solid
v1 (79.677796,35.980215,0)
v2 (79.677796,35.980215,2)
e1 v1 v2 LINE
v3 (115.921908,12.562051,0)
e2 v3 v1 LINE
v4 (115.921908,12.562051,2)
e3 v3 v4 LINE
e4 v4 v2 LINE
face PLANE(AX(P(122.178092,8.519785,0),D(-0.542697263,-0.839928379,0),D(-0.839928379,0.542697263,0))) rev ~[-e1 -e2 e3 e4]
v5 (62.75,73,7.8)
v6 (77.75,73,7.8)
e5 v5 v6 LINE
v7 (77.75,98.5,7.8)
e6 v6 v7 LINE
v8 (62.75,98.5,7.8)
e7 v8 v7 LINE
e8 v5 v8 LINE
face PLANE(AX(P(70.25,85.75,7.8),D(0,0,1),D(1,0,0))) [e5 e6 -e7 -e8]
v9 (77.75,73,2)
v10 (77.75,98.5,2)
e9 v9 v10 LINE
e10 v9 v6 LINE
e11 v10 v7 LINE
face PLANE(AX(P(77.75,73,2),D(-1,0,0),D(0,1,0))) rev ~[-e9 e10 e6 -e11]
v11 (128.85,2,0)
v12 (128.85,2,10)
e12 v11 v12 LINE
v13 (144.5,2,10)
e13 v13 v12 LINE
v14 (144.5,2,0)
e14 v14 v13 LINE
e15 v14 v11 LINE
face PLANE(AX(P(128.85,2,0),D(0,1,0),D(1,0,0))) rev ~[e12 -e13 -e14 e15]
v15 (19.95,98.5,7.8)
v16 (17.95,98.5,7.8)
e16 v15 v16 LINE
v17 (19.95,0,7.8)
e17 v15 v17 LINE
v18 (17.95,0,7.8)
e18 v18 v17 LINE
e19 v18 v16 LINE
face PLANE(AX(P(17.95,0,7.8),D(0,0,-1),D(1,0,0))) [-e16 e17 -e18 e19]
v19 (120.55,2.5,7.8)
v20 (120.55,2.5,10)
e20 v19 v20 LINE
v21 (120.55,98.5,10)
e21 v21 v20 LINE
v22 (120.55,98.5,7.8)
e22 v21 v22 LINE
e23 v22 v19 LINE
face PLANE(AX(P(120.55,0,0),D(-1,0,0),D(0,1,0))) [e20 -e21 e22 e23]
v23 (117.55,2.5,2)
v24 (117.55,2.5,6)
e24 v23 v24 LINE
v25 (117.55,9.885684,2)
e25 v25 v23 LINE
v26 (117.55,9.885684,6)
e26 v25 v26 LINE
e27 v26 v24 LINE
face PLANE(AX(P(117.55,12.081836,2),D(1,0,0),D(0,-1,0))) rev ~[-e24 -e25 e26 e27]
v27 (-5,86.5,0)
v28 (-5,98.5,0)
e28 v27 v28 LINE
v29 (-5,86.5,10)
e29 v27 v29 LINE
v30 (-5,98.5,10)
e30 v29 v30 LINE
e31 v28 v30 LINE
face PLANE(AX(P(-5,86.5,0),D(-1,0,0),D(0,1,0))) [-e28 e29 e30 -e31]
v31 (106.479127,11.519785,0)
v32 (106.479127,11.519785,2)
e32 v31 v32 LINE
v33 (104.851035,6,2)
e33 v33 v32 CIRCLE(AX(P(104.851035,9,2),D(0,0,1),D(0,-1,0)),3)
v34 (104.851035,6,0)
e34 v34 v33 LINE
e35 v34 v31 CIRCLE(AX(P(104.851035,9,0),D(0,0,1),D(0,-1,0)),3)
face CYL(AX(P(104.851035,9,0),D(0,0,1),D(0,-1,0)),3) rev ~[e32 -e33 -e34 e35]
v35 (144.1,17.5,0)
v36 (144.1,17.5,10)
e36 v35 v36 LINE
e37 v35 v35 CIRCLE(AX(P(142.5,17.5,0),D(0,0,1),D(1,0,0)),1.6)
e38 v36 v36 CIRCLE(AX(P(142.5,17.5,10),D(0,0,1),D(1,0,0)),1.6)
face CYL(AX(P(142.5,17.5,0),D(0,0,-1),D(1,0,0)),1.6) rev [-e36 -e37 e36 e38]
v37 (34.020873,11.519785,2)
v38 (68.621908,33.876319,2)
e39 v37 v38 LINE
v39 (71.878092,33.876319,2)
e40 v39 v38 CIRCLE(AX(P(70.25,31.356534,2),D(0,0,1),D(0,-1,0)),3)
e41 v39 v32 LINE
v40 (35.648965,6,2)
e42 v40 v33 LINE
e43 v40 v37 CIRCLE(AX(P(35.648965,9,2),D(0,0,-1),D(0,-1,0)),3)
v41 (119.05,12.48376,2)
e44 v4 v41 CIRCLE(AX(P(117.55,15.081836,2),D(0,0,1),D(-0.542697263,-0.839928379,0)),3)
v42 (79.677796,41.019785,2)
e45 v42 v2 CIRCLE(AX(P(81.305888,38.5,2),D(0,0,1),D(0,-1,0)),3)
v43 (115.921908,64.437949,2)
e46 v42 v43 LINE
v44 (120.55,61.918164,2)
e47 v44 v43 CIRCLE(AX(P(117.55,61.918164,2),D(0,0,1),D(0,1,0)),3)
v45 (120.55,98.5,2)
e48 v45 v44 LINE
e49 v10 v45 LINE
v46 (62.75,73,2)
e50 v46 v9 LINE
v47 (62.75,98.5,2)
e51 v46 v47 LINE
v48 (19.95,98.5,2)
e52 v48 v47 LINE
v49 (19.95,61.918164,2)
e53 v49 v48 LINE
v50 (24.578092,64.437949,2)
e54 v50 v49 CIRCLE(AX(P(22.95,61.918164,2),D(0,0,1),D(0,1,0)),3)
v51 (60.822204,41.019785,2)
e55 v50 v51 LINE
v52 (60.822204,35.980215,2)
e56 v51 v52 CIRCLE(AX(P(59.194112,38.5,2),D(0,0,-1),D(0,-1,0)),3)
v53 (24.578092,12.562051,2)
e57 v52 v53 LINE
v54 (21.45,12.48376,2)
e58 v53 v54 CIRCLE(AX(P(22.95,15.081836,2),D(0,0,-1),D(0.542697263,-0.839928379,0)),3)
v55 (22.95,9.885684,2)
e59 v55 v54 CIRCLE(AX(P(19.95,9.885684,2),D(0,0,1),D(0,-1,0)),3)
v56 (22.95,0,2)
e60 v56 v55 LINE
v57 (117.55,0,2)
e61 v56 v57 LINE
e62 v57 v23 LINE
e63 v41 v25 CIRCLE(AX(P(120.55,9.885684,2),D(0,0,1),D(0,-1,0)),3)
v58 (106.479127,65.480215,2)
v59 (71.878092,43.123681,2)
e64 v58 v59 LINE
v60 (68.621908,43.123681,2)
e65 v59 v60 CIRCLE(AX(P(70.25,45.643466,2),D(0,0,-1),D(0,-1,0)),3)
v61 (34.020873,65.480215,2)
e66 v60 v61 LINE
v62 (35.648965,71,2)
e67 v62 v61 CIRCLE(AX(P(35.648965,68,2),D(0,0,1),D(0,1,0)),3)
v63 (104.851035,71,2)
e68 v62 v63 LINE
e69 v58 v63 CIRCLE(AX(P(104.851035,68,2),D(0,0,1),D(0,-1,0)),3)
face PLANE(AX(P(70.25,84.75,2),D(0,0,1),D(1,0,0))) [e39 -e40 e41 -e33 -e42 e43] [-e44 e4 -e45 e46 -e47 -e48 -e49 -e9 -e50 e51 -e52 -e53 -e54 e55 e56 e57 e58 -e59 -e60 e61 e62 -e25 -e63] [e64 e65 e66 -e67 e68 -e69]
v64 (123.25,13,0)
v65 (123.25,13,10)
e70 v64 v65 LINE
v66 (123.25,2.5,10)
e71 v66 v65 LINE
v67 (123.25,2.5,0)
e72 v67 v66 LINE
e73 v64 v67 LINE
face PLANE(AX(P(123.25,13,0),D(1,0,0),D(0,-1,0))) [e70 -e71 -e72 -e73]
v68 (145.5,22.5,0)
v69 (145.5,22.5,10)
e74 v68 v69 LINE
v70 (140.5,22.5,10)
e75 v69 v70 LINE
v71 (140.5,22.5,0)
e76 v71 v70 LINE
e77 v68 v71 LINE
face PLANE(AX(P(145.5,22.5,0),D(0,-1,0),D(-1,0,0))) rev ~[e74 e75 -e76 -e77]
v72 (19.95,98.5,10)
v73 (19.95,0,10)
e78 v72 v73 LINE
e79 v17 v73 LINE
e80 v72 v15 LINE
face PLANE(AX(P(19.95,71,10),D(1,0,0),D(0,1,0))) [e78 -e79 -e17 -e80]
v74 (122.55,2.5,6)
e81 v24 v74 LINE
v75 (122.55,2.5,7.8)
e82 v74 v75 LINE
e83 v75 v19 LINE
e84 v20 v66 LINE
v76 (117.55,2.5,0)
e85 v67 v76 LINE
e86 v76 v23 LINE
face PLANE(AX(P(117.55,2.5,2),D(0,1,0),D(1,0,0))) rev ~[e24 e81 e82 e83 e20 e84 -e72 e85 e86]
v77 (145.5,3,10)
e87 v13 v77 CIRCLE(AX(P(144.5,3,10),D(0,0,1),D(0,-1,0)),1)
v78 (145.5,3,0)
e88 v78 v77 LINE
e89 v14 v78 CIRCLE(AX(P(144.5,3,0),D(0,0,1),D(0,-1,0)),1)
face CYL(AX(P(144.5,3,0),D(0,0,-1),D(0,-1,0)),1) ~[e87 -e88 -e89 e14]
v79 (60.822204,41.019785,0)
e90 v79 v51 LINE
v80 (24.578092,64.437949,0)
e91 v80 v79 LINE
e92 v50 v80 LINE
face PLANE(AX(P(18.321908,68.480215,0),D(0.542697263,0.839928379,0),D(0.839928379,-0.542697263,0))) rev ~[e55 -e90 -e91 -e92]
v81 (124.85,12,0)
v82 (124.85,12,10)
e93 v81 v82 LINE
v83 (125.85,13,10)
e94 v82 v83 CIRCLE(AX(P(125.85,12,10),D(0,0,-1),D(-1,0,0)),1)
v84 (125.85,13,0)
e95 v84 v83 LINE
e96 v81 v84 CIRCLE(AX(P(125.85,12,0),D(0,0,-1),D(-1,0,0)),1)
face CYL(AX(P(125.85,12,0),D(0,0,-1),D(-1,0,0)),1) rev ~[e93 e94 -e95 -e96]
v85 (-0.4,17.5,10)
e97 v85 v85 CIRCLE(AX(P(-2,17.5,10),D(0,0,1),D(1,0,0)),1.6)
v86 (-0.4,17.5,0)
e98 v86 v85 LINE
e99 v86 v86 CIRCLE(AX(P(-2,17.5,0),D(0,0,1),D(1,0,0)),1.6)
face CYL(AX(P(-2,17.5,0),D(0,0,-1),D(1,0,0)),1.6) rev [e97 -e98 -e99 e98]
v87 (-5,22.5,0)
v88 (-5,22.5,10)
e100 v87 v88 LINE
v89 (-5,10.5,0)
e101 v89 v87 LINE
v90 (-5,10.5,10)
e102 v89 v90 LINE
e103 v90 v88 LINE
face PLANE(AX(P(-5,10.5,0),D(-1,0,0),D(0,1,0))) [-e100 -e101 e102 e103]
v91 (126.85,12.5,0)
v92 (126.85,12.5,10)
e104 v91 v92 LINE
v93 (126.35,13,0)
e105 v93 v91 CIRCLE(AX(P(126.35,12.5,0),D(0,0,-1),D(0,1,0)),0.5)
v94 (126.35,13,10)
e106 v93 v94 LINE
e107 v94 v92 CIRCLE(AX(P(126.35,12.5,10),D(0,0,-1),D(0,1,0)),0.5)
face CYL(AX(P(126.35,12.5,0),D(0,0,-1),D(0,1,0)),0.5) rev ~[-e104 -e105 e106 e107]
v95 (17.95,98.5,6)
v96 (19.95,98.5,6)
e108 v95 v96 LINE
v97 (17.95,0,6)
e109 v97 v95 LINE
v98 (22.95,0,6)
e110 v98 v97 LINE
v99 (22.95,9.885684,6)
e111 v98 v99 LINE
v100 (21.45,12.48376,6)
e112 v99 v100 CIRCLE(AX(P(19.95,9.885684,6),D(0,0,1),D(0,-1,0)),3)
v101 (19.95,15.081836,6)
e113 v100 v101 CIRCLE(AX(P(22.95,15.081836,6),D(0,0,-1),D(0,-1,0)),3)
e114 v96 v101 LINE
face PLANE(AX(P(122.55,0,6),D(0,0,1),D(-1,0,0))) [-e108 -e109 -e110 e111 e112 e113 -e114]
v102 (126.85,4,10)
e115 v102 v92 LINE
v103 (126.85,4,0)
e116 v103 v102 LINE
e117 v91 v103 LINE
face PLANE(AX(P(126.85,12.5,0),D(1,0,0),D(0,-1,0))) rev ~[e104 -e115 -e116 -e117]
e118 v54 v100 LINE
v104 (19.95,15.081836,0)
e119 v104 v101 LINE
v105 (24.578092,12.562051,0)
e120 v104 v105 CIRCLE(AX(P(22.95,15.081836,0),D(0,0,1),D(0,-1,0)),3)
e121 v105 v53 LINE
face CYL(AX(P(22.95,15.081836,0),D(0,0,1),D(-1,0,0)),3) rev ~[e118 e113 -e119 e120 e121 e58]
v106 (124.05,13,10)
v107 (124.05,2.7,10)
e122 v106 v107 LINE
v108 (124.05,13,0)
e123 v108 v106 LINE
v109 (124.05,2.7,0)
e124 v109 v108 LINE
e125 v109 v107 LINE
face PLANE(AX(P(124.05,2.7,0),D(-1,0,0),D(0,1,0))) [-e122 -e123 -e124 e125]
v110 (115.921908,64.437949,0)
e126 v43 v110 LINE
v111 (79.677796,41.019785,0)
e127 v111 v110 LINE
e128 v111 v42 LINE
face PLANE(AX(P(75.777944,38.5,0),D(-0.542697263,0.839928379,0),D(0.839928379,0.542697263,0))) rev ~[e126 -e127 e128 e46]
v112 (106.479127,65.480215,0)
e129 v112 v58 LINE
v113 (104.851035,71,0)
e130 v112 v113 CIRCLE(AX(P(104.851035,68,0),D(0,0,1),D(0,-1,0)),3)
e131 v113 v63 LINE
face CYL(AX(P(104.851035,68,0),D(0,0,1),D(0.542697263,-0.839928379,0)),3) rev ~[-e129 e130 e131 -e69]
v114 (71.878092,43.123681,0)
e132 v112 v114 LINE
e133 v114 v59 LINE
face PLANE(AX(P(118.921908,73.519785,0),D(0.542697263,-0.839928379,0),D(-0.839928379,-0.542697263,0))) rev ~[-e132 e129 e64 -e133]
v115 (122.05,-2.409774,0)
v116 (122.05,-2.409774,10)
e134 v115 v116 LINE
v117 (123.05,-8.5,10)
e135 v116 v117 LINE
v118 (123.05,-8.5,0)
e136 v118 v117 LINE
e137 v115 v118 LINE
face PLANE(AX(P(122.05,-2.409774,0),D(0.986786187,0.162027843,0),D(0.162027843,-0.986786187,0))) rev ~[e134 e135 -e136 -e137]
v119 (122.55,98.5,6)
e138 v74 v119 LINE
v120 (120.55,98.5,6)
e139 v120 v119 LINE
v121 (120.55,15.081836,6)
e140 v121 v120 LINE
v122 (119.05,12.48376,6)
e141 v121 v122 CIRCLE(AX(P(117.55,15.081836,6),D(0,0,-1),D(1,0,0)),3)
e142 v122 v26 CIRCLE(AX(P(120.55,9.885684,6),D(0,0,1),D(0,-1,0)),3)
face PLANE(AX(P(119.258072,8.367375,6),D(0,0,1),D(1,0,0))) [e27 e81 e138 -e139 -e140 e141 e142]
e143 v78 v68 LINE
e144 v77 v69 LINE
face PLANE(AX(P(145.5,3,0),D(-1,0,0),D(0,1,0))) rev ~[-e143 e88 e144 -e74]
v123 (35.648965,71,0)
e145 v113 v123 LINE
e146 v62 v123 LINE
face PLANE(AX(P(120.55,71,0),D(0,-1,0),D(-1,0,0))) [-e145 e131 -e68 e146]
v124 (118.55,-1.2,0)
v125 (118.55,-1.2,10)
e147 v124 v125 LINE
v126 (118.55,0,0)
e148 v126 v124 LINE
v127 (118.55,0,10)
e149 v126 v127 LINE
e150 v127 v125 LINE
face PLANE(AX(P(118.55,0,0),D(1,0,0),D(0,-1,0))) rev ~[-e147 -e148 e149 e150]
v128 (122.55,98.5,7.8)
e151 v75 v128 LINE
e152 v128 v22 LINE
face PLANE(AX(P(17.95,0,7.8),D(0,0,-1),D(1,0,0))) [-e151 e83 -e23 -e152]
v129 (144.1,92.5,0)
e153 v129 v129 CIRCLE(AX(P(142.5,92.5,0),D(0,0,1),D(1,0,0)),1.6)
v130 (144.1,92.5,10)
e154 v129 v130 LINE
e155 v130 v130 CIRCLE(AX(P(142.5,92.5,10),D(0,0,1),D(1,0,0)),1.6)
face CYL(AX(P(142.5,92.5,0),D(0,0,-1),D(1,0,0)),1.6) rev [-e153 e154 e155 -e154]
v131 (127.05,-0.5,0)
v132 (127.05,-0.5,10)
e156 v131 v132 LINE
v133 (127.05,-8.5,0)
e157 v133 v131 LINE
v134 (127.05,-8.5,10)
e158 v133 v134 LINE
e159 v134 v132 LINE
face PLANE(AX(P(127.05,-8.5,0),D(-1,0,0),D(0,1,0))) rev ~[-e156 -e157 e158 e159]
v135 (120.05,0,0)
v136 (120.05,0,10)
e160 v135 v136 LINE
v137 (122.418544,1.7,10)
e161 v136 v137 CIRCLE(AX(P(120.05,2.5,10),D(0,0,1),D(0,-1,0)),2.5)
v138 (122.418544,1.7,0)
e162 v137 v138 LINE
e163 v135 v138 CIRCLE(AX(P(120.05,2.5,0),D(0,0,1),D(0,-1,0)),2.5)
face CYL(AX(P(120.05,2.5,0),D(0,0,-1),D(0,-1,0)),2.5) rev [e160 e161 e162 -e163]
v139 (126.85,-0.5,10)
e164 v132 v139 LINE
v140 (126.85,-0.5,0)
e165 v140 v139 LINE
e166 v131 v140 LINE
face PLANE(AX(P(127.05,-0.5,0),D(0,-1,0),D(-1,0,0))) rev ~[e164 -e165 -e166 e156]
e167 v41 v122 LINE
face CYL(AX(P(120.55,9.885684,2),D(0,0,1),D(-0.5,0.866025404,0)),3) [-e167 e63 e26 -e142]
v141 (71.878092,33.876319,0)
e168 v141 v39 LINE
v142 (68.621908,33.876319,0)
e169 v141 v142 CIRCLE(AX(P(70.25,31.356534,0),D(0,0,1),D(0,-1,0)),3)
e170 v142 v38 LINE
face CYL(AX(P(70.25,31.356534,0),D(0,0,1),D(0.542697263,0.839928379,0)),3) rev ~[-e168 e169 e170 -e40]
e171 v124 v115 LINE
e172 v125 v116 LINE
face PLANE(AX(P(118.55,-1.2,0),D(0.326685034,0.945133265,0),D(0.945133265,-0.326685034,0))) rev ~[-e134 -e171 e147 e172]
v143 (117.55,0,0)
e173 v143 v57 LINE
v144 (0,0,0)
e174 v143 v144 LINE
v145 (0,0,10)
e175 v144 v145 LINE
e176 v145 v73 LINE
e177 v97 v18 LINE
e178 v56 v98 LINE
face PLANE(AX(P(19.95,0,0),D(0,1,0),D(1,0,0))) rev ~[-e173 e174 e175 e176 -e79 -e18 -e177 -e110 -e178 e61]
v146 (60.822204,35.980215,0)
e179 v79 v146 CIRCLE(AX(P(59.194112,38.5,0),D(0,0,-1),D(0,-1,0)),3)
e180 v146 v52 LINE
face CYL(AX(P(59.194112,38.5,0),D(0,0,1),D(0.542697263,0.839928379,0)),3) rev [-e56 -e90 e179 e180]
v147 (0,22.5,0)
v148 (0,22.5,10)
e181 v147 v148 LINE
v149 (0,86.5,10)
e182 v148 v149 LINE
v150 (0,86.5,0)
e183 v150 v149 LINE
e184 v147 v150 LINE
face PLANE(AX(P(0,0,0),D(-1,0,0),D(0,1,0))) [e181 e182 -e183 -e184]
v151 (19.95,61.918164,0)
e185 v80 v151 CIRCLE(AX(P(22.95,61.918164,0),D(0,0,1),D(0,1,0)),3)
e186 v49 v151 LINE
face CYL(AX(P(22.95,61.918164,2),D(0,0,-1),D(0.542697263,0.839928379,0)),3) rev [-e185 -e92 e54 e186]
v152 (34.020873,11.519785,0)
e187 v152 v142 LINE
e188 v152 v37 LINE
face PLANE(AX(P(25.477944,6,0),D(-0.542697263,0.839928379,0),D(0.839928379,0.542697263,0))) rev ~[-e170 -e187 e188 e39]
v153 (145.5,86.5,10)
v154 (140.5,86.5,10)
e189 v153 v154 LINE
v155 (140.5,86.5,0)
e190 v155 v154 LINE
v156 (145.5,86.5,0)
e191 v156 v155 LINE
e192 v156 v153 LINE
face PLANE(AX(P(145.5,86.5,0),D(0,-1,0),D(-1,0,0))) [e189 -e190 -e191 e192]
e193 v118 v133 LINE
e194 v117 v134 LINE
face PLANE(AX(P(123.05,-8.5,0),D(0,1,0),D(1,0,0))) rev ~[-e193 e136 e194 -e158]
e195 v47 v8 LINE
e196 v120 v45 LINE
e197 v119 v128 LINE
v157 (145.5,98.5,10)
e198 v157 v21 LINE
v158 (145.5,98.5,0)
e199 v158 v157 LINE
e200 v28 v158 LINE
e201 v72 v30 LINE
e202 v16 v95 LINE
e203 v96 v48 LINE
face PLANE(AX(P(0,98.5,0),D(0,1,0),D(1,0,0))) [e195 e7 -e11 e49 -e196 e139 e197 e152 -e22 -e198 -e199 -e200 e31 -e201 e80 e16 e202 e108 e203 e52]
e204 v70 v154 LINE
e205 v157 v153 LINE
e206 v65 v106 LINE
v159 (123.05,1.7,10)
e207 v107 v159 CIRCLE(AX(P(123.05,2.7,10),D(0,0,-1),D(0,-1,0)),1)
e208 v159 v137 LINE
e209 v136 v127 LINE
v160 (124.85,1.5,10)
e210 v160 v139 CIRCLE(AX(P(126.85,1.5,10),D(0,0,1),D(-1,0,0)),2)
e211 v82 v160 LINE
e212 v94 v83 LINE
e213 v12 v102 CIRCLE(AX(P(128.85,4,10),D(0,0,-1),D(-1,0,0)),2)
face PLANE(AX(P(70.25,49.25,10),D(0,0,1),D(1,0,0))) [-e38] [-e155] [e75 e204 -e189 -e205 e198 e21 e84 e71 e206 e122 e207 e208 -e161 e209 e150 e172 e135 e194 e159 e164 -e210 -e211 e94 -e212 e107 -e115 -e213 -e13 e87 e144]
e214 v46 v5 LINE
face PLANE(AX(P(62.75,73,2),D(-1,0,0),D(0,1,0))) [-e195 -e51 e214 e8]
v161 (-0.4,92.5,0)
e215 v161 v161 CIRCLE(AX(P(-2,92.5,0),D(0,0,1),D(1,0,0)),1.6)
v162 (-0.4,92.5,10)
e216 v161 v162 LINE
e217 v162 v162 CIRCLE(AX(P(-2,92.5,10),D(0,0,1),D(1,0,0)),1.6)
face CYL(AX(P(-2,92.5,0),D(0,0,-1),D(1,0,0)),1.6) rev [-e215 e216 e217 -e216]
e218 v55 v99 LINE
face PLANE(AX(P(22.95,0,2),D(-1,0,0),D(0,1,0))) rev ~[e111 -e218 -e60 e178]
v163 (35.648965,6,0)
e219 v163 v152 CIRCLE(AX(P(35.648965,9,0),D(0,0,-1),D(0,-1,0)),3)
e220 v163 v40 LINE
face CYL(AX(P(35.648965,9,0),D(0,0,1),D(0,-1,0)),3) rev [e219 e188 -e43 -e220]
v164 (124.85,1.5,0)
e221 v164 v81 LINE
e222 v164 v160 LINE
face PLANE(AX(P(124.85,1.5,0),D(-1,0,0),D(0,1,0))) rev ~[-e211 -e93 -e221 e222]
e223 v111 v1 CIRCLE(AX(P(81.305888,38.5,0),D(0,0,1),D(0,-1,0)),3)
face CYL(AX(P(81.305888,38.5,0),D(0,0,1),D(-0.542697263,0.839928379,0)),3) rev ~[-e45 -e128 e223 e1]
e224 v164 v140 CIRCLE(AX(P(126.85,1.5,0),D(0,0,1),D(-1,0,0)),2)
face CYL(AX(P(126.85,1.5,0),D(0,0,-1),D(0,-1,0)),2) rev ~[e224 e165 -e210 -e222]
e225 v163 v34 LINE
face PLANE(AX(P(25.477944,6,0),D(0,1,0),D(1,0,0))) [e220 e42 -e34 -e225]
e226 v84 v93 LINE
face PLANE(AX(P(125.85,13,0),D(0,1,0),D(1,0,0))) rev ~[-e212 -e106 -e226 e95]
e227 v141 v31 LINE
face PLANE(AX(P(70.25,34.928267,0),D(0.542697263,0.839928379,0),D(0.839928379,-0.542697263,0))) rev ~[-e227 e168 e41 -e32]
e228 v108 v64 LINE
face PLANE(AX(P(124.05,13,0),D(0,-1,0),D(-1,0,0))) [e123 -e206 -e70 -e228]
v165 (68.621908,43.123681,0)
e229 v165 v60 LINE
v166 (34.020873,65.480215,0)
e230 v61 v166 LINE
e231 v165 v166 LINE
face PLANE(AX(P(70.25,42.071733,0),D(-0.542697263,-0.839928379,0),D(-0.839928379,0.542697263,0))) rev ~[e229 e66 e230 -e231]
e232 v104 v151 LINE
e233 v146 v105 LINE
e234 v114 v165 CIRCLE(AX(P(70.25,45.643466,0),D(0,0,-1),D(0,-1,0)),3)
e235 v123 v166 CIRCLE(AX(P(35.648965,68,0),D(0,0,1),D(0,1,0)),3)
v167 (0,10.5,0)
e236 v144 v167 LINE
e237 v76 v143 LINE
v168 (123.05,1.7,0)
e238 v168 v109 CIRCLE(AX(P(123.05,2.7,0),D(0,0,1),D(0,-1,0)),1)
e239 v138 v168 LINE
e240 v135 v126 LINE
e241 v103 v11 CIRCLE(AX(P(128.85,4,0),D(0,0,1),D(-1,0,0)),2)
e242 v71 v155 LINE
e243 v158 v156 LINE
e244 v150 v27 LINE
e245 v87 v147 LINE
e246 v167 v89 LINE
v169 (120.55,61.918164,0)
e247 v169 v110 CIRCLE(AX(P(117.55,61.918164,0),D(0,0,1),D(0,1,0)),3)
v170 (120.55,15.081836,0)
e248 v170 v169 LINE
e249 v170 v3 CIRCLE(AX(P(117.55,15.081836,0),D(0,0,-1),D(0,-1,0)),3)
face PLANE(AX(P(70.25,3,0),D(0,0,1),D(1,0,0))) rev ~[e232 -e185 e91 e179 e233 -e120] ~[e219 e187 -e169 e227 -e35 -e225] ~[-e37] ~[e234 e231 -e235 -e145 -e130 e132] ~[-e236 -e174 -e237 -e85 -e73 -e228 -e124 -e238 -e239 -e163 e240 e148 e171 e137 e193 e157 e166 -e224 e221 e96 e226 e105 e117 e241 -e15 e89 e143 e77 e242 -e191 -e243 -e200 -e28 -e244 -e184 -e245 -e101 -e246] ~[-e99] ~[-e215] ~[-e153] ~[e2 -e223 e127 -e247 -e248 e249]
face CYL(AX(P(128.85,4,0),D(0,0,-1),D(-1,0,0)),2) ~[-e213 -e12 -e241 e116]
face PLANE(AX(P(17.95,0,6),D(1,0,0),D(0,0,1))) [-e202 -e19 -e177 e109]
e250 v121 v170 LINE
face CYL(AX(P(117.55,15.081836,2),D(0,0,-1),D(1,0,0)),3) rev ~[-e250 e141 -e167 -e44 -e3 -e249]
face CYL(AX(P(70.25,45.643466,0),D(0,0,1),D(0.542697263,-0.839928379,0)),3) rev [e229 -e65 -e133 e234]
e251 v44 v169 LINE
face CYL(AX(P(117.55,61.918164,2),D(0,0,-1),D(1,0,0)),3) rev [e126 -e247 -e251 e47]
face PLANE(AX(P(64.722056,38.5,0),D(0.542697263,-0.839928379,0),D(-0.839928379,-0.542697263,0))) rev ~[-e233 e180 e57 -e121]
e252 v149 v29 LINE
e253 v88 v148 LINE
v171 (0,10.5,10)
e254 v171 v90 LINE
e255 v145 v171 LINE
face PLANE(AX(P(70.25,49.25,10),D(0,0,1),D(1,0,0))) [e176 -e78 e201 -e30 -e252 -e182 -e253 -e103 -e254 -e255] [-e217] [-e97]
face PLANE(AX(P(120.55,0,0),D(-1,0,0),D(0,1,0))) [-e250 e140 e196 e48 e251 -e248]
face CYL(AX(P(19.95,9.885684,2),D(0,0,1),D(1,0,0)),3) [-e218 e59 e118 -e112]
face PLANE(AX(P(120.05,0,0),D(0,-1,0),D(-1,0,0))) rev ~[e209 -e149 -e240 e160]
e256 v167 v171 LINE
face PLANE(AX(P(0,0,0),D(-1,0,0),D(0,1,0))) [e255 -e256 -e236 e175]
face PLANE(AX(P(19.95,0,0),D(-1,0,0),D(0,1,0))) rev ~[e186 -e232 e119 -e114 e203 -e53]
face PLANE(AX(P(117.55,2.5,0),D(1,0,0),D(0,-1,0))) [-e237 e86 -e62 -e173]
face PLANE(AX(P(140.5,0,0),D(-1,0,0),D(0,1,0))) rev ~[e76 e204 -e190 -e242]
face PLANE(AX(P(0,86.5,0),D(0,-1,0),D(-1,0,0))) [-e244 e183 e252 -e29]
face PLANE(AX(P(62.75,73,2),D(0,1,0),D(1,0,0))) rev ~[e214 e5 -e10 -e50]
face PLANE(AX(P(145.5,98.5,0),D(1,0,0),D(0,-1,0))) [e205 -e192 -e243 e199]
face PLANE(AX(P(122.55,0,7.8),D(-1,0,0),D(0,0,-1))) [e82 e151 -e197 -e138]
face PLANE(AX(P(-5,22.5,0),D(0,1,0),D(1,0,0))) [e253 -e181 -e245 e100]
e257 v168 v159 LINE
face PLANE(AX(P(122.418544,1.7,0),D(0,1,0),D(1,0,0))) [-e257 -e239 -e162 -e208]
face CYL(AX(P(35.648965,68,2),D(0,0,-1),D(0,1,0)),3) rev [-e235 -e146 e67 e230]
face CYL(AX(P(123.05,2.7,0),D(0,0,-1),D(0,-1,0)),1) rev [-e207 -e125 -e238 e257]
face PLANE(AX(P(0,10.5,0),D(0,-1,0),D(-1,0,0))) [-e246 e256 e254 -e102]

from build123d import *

# Parameters (mm, degrees)
SKETCH2_W           = 140.5
SKETCH2_H           = 98.5
BOSS_EXTRUDE6_DEPTH = 10
SKETCH10_W          = 100.6
SKETCH10_H          = 71
CUT_EXTRUDE4_DEPTH  = 172.8793181275746
CUT_EXTRUDE1_DEPTH  = 172.8793181275746
SKETCH5_W           = 100.6
SKETCH5_H           = 6
BOSS_EXTRUDE3_DEPTH = 2
CUT_EXTRUDE2_DEPTH  = 172.8793181275746
SKETCH4_4_R         = 1.5999999999999908
SKETCH4_4_R_2       = 1.599999999999993
SKETCH4_4_R_3       = 1.6000000000000039
SKETCH4_4_R_4       = 1.6000000000000003
BOSS_EXTRUDE7_DEPTH = 10
FILLET1_R           = 3
SKETCH4_3_R         = 1.5999999999999908
SKETCH4_3_R_2       = 1.599999999999993
SKETCH4_3_R_3       = 1.6000000000000039
SKETCH4_3_R_4       = 1.6000000000000003
BOSS_EXTRUDE2_DEPTH = 10
SKETCH7_W           = 100.6
SKETCH7_H           = 27.5
CUT_EXTRUDE3_DEPTH  = 8
SKETCH8_W           = 15.000000000000007
SKETCH8_H           = 25.5
BOSS_EXTRUDE4_DEPTH = 5.8
BOSS_EXTRUDE5_DEPTH = 4
FILLET2_R           = 3


with BuildPart() as part:
    # Sketch2 → Boss-Extrude6 (new body)
    with BuildSketch(Plane.XY):
        with Locations((70.25, 49.25)):
            Rectangle(SKETCH2_W, SKETCH2_H)
    extrude(amount=BOSS_EXTRUDE6_DEPTH)

    # Sketch10 → Cut-Extrude4 (cut, through all)
    with BuildSketch(Plane(origin=(0, 0, 0), x_dir=(-1, 0, 0), z_dir=(0, 0, -1))):
        with Locations((-70.25000000000001, 35.5)):
            Rectangle(SKETCH10_W, SKETCH10_H)
    extrude(amount=-CUT_EXTRUDE4_DEPTH, mode=Mode.SUBTRACT)

    # Sketch3 → Cut-Extrude1 (cut, through all)
    with BuildSketch(Plane.XZ):
        Polygon((17.950000000000006, 7.800000000000001), (122.55000000000001, 7.800000000000013), (122.55000000000001, 6.000000000000013), (17.950000000000006, 6), align=None)
    extrude(amount=-CUT_EXTRUDE1_DEPTH, mode=Mode.SUBTRACT)

    # Sketch5 → Boss-Extrude3 (add)
    with BuildSketch(Plane.XY):
        with Locations((70.25000000000001, 3)):
            Rectangle(SKETCH5_W, SKETCH5_H)
        Polygon((21.57809178761083, 3.480214864097709), (122.17809178761084, 68.48021486409772), (118.92190821238917, 73.51978513590232), (18.321908212389175, 8.519785135902309), align=None)
        Polygon((18.32190821238918, 68.48021486409769), (118.92190821238916, 3.4802148640977055), (122.17809178761082, 8.519785135902305), (21.578091787610838, 73.5197851359023), align=None)
    extrude(amount=BOSS_EXTRUDE3_DEPTH)

    # Sketch4 → Cut-Extrude2 (cut, through all)
    with BuildSketch(Plane.XY):
        with BuildLine():
            ThreePointArc((120.05000000000001, 4.44e-15), (121.50773797371134, 0.46899039884100846), (122.41854385646542, 1.6999999999999988))
            Line((122.41854385646542, 1.7000000000000002), (123.05000000000001, 1.7000000000000002))
            ThreePointArc((123.05000000000001, 1.7000000000000028), (123.75710678118656, 1.99289321881345), (124.05000000000001, 2.7))
            Line((124.05000000000001, 2.7), (124.05000000000001, 12.999999999999996))
            Line((124.05000000000001, 12.999999999999998), (123.25000000000001, 12.999999999999998))
            Line((123.25000000000001, 12.999999999999998), (123.25000000000001, 2.5))
            Line((123.25000000000001, 2.5), (117.55, 2.5))
            Line((117.55, 2.5), (117.55, 0))
            Line((117.55, 0), (118.55, 0))
            Line((118.55, 0), (120.05000000000001, 0))
        make_face()
        with BuildLine():
            ThreePointArc((144.50000000000003, 2), (145.20710678118658, 2.2928932188134525), (145.50000000000006, 3))
            Line((145.50000000000006, 3), (145.50000000000003, -0.5000000000000178))
            Line((145.50000000000003, -0.5000000000000178), (127.05, -0.5000000000000178))
            Line((127.05, -0.5000000000000178), (126.85, -0.5000000000000178))
            ThreePointArc((126.85, -0.5000000000000178), (125.4357864376269, 0.08578643762688709), (124.85, 1.499999999999982))
            Line((124.85, 1.499999999999982), (124.85, 12))
            ThreePointArc((124.85, 12), (125.14289321881344, 12.707106781186548), (125.85, 12.999999999999998))
            Line((125.85, 12.999999999999998), (126.35, 13))
            ThreePointArc((126.35, 13), (126.70355339059327, 12.853553390593271), (126.85, 12.499999999999998))
            Line((126.85, 12.499999999999998), (126.85, 4))
            ThreePointArc((126.85, 4), (127.4357864376269, 2.585786437626905), (128.85, 2))
            Line((128.85, 2), (144.50000000000003, 2))
        make_face()
    extrude(amount=CUT_EXTRUDE2_DEPTH, mode=Mode.SUBTRACT)

    # Sketch4<4> → Boss-Extrude7 (add, through all)
    # profile 1 of 4: a face of its own
    with BuildSketch(Plane.XY):
        with BuildLine():
            Line((128.85, 2), (144.50000000000003, 2))
            ThreePointArc((144.50000000000003, 2), (145.20710678118658, 2.2928932188134525), (145.50000000000006, 3))
            Line((145.50000000000006, 3), (145.50000000000003, 22.5))
            Line((145.50000000000003, 22.5), (140.5, 22.500000000000004))
            Line((140.5, 22.500000000000004), (124.05000000000001, 22.5))
            Line((124.05000000000001, 22.5), (124.05000000000001, 12.999999999999998))
            Line((124.05000000000001, 12.999999999999998), (124.05000000000001, 2.7))
            ThreePointArc((124.05000000000001, 2.7), (123.75710678118656, 1.9928932188134527), (123.05000000000001, 1.7000000000000002))
            Line((123.05000000000001, 1.7000000000000002), (122.41854385646542, 1.7000000000000002))
            ThreePointArc((122.41854385646542, 1.7000000000000002), (121.50773797371134, 0.4689903988410107), (120.05000000000001, 0))
            Line((120.05000000000001, 0), (118.55, 0))
            Line((118.55, 0), (118.55, -1.2))
            Line((118.55, -1.2), (122.05, -2.409773966310486))
            Line((122.05, -2.409773966310486), (123.05, -8.50000000000002))
            Line((123.05, -8.50000000000002), (127.05, -8.500000000000018))
            Line((127.05, -8.500000000000018), (127.05, -0.5000000000000178))
            Line((127.05, -0.5000000000000178), (126.85, -0.5000000000000178))
            ThreePointArc((126.85, -0.5000000000000178), (125.4357864376269, 0.08578643762688709), (124.85, 1.499999999999982))
            Line((124.85, 1.499999999999982), (124.85, 12))
            ThreePointArc((124.85, 12), (125.14289321881344, 12.707106781186548), (125.85, 12.999999999999998))
            Line((125.85, 12.999999999999998), (126.35, 13))
            ThreePointArc((126.35, 13), (126.70355339059327, 12.853553390593271), (126.85, 12.499999999999998))
            Line((126.85, 12.499999999999998), (126.85, 4))
            ThreePointArc((126.85, 4), (127.4357864376269, 2.585786437626905), (128.85, 2))
        make_face()
        with Locations((142.50000000000003, 17.5)):
            Circle(SKETCH4_4_R, mode=Mode.SUBTRACT)
    # profile 2 of 4: a face of its own
    with BuildSketch(Plane.XY):
        Polygon((145.50000000000003, 98.5), (145.50000000000003, 86.50000000000001), (140.5, 86.50000000000003), (140.5, 98.5), align=None)
        with Locations((142.5, 92.5)):
            Circle(SKETCH4_4_R_2, mode=Mode.SUBTRACT)
    # profile 3 of 4: a face of its own
    with BuildSketch(Plane.XY):
        Polygon((0, 98.49999999999999), (0, 86.50000000000001), (-5.000000000000004, 86.5), (-5.000000000000004, 98.49999999999999), align=None)
        with Locations((-1.9999999999999913, 92.5)):
            Circle(SKETCH4_4_R_3, mode=Mode.SUBTRACT)
    # profile 4 of 4: a face of its own
    with BuildSketch(Plane.XY):
        Polygon((8.67e-15, 22.499999999999986), (1.041e-14, 10.49999999999999), (-4.999999999999993, 10.499999999999986), (-4.999999999999996, 22.499999999999982), align=None)
        with Locations((-2.0000000000000018, 17.5)):
            Circle(SKETCH4_4_R_4, mode=Mode.SUBTRACT)
    extrude(amount=BOSS_EXTRUDE7_DEPTH)

    # Fillet1
    fillet1_edges = [part.edges().sort_by_distance(p)[0] for p in [
        (19.95000000000001, 67.42826688999527, 1),
        (19.949999999999992, 9.571733110004725, 1),
        (25.4779438594842, 71.00000000000001, 1),
        (115.02205614051576, 71, 1),
        (120.55000000000001, 9.571733110004711, 1),
        (120.55000000000003, 67.42826688999531, 1),
        (75.77794385948422, 38.50000000000003, 1),
        (70.24999999999997, 42.07173311000473, 1),
        (64.72205614051575, 38.499999999999986, 1),
        (25.477943859484185, 6.000000000000001, 1),
        (70.25, 34.928266889995285, 1),
        (115.0220561405158, 5.999999999999968, 1),
    ]]
    fillet(fillet1_edges, radius=FILLET1_R)

    # Sketch4<3> → Boss-Extrude2 (add, through all)
    # profile 1 of 4: a face of its own
    with BuildSketch(Plane.XY):
        with BuildLine():
            Line((123.05000000000001, 1.7000000000000002), (122.41854385646542, 1.7000000000000002))
            ThreePointArc((122.41854385646542, 1.6999999999999988), (121.50773797371134, 0.46899039884100846), (120.05000000000001, 4.44e-15))
            Line((120.05000000000001, 0), (118.55, 0))
            Line((118.55, 0), (118.55, -1.2))
            Line((118.55, -1.2), (122.05, -2.409773966310486))
            Line((122.05, -2.4097739663104853), (123.05, -8.50000000000002))
            Line((123.05, -8.50000000000002), (127.05, -8.500000000000018))
            Line((127.05, -8.500000000000018), (127.05, -0.5000000000000178))
            Line((127.05, -0.5000000000000178), (126.85, -0.5000000000000178))
            ThreePointArc((126.85, -0.5000000000000151), (125.4357864376269, 0.08578643762688865), (124.85, 1.499999999999982))
            Line((124.85, 1.4999999999999822), (124.85, 12))
            ThreePointArc((124.85, 12), (125.14289321881344, 12.70710678118655), (125.85, 12.999999999999996))
            Line((125.85, 12.999999999999998), (126.35, 13))
            ThreePointArc((126.35, 13), (126.70355339059327, 12.853553390593273), (126.85, 12.499999999999998))
            Line((126.85, 12.499999999999998), (126.85, 4))
            ThreePointArc((126.85, 4), (127.4357864376269, 2.585786437626907), (128.85, 2.000000000000003))
            Line((128.85, 2), (144.50000000000003, 2))
            ThreePointArc((144.50000000000003, 2.000000000000009), (145.20710678118658, 2.292893218813456), (145.50000000000006, 3))
            Line((145.50000000000006, 3), (145.50000000000003, 22.5))
            Line((145.50000000000003, 22.5), (140.5, 22.500000000000004))
            Line((140.5, 22.500000000000004), (124.05000000000001, 22.5))
            Line((124.05000000000001, 22.5), (124.05000000000001, 12.999999999999998))
            Line((124.05000000000001, 12.999999999999996), (124.05000000000001, 2.7))
            ThreePointArc((124.05000000000001, 2.7), (123.75710678118656, 1.99289321881345), (123.05000000000001, 1.7000000000000028))
        make_face()
        with Locations((142.50000000000003, 17.5)):
            Circle(SKETCH4_3_R, mode=Mode.SUBTRACT)
    # profile 2 of 4: a face of its own
    with BuildSketch(Plane.XY):
        Polygon((145.50000000000003, 98.5), (145.50000000000003, 86.50000000000001), (140.5, 86.50000000000003), (140.5, 98.5), align=None)
        with Locations((142.5, 92.5)):
            Circle(SKETCH4_3_R_2, mode=Mode.SUBTRACT)
    # profile 3 of 4: a face of its own
    with BuildSketch(Plane.XY):
        Polygon((0, 98.49999999999999), (0, 86.50000000000001), (-5.000000000000004, 86.5), (-5.000000000000004, 98.49999999999999), align=None)
        with Locations((-1.9999999999999913, 92.5)):
            Circle(SKETCH4_3_R_3, mode=Mode.SUBTRACT)
    # profile 4 of 4: a face of its own
    with BuildSketch(Plane.XY):
        Polygon((8.67e-15, 22.499999999999986), (1.041e-14, 10.49999999999999), (-4.999999999999993, 10.499999999999986), (-4.999999999999996, 22.499999999999982), align=None)
        with Locations((-2.0000000000000018, 17.5)):
            Circle(SKETCH4_3_R_4, mode=Mode.SUBTRACT)
    extrude(amount=BOSS_EXTRUDE2_DEPTH)

    # Sketch7 → Cut-Extrude3 (cut)
    with BuildSketch(Plane.XY.offset(10)):
        with Locations((70.25000000000001, 84.75)):
            Rectangle(SKETCH7_W, SKETCH7_H)
    extrude(amount=-CUT_EXTRUDE3_DEPTH, mode=Mode.SUBTRACT)

    # Sketch8 → Boss-Extrude4 (add)
    with BuildSketch(Plane.XY.offset(2)):
        with Locations((70.25000000000001, 85.75)):
            Rectangle(SKETCH8_W, SKETCH8_H)
    extrude(amount=BOSS_EXTRUDE4_DEPTH)

    # Sketch9 → Boss-Extrude5 (add)
    with BuildSketch(Plane.XY.offset(2)):
        with BuildLine():
            ThreePointArc((120.55000000000001, 15.081836001321573), (119.67132034355964, 12.960515657761938), (117.55000000000001, 12.081836001321571))
            Line((117.55000000000001, 12.081836001321573), (117.55000000000001, 2.5))
            Line((117.55000000000001, 2.5000000000000004), (120.55000000000001, 2.5))
            Line((120.55000000000001, 2.5), (120.55000000000001, 15.081836001321573))
        make_face()
        with BuildLine():
            Line((19.95000000000001, 15.081836001321587), (19.95000000000001, 0))
            Line((19.95000000000001, 0), (22.95000000000001, 0))
            Line((22.95000000000001, 0), (22.95000000000001, 12.08183600132159))
            ThreePointArc((22.95000000000001, 12.081836001321593), (20.828679656440368, 12.960515657761945), (19.95000000000001, 15.081836001321587))
        make_face()
    extrude(amount=BOSS_EXTRUDE5_DEPTH)

    # Fillet2
    fillet2_edges = [part.edges().sort_by_distance(p)[0] for p in [
        (22.95000000000001, 12.08183600132159, 4),
        (117.55000000000001, 12.08183600132157, 4),
    ]]
    fillet(fillet2_edges, radius=FILLET2_R)


solid = part.part
